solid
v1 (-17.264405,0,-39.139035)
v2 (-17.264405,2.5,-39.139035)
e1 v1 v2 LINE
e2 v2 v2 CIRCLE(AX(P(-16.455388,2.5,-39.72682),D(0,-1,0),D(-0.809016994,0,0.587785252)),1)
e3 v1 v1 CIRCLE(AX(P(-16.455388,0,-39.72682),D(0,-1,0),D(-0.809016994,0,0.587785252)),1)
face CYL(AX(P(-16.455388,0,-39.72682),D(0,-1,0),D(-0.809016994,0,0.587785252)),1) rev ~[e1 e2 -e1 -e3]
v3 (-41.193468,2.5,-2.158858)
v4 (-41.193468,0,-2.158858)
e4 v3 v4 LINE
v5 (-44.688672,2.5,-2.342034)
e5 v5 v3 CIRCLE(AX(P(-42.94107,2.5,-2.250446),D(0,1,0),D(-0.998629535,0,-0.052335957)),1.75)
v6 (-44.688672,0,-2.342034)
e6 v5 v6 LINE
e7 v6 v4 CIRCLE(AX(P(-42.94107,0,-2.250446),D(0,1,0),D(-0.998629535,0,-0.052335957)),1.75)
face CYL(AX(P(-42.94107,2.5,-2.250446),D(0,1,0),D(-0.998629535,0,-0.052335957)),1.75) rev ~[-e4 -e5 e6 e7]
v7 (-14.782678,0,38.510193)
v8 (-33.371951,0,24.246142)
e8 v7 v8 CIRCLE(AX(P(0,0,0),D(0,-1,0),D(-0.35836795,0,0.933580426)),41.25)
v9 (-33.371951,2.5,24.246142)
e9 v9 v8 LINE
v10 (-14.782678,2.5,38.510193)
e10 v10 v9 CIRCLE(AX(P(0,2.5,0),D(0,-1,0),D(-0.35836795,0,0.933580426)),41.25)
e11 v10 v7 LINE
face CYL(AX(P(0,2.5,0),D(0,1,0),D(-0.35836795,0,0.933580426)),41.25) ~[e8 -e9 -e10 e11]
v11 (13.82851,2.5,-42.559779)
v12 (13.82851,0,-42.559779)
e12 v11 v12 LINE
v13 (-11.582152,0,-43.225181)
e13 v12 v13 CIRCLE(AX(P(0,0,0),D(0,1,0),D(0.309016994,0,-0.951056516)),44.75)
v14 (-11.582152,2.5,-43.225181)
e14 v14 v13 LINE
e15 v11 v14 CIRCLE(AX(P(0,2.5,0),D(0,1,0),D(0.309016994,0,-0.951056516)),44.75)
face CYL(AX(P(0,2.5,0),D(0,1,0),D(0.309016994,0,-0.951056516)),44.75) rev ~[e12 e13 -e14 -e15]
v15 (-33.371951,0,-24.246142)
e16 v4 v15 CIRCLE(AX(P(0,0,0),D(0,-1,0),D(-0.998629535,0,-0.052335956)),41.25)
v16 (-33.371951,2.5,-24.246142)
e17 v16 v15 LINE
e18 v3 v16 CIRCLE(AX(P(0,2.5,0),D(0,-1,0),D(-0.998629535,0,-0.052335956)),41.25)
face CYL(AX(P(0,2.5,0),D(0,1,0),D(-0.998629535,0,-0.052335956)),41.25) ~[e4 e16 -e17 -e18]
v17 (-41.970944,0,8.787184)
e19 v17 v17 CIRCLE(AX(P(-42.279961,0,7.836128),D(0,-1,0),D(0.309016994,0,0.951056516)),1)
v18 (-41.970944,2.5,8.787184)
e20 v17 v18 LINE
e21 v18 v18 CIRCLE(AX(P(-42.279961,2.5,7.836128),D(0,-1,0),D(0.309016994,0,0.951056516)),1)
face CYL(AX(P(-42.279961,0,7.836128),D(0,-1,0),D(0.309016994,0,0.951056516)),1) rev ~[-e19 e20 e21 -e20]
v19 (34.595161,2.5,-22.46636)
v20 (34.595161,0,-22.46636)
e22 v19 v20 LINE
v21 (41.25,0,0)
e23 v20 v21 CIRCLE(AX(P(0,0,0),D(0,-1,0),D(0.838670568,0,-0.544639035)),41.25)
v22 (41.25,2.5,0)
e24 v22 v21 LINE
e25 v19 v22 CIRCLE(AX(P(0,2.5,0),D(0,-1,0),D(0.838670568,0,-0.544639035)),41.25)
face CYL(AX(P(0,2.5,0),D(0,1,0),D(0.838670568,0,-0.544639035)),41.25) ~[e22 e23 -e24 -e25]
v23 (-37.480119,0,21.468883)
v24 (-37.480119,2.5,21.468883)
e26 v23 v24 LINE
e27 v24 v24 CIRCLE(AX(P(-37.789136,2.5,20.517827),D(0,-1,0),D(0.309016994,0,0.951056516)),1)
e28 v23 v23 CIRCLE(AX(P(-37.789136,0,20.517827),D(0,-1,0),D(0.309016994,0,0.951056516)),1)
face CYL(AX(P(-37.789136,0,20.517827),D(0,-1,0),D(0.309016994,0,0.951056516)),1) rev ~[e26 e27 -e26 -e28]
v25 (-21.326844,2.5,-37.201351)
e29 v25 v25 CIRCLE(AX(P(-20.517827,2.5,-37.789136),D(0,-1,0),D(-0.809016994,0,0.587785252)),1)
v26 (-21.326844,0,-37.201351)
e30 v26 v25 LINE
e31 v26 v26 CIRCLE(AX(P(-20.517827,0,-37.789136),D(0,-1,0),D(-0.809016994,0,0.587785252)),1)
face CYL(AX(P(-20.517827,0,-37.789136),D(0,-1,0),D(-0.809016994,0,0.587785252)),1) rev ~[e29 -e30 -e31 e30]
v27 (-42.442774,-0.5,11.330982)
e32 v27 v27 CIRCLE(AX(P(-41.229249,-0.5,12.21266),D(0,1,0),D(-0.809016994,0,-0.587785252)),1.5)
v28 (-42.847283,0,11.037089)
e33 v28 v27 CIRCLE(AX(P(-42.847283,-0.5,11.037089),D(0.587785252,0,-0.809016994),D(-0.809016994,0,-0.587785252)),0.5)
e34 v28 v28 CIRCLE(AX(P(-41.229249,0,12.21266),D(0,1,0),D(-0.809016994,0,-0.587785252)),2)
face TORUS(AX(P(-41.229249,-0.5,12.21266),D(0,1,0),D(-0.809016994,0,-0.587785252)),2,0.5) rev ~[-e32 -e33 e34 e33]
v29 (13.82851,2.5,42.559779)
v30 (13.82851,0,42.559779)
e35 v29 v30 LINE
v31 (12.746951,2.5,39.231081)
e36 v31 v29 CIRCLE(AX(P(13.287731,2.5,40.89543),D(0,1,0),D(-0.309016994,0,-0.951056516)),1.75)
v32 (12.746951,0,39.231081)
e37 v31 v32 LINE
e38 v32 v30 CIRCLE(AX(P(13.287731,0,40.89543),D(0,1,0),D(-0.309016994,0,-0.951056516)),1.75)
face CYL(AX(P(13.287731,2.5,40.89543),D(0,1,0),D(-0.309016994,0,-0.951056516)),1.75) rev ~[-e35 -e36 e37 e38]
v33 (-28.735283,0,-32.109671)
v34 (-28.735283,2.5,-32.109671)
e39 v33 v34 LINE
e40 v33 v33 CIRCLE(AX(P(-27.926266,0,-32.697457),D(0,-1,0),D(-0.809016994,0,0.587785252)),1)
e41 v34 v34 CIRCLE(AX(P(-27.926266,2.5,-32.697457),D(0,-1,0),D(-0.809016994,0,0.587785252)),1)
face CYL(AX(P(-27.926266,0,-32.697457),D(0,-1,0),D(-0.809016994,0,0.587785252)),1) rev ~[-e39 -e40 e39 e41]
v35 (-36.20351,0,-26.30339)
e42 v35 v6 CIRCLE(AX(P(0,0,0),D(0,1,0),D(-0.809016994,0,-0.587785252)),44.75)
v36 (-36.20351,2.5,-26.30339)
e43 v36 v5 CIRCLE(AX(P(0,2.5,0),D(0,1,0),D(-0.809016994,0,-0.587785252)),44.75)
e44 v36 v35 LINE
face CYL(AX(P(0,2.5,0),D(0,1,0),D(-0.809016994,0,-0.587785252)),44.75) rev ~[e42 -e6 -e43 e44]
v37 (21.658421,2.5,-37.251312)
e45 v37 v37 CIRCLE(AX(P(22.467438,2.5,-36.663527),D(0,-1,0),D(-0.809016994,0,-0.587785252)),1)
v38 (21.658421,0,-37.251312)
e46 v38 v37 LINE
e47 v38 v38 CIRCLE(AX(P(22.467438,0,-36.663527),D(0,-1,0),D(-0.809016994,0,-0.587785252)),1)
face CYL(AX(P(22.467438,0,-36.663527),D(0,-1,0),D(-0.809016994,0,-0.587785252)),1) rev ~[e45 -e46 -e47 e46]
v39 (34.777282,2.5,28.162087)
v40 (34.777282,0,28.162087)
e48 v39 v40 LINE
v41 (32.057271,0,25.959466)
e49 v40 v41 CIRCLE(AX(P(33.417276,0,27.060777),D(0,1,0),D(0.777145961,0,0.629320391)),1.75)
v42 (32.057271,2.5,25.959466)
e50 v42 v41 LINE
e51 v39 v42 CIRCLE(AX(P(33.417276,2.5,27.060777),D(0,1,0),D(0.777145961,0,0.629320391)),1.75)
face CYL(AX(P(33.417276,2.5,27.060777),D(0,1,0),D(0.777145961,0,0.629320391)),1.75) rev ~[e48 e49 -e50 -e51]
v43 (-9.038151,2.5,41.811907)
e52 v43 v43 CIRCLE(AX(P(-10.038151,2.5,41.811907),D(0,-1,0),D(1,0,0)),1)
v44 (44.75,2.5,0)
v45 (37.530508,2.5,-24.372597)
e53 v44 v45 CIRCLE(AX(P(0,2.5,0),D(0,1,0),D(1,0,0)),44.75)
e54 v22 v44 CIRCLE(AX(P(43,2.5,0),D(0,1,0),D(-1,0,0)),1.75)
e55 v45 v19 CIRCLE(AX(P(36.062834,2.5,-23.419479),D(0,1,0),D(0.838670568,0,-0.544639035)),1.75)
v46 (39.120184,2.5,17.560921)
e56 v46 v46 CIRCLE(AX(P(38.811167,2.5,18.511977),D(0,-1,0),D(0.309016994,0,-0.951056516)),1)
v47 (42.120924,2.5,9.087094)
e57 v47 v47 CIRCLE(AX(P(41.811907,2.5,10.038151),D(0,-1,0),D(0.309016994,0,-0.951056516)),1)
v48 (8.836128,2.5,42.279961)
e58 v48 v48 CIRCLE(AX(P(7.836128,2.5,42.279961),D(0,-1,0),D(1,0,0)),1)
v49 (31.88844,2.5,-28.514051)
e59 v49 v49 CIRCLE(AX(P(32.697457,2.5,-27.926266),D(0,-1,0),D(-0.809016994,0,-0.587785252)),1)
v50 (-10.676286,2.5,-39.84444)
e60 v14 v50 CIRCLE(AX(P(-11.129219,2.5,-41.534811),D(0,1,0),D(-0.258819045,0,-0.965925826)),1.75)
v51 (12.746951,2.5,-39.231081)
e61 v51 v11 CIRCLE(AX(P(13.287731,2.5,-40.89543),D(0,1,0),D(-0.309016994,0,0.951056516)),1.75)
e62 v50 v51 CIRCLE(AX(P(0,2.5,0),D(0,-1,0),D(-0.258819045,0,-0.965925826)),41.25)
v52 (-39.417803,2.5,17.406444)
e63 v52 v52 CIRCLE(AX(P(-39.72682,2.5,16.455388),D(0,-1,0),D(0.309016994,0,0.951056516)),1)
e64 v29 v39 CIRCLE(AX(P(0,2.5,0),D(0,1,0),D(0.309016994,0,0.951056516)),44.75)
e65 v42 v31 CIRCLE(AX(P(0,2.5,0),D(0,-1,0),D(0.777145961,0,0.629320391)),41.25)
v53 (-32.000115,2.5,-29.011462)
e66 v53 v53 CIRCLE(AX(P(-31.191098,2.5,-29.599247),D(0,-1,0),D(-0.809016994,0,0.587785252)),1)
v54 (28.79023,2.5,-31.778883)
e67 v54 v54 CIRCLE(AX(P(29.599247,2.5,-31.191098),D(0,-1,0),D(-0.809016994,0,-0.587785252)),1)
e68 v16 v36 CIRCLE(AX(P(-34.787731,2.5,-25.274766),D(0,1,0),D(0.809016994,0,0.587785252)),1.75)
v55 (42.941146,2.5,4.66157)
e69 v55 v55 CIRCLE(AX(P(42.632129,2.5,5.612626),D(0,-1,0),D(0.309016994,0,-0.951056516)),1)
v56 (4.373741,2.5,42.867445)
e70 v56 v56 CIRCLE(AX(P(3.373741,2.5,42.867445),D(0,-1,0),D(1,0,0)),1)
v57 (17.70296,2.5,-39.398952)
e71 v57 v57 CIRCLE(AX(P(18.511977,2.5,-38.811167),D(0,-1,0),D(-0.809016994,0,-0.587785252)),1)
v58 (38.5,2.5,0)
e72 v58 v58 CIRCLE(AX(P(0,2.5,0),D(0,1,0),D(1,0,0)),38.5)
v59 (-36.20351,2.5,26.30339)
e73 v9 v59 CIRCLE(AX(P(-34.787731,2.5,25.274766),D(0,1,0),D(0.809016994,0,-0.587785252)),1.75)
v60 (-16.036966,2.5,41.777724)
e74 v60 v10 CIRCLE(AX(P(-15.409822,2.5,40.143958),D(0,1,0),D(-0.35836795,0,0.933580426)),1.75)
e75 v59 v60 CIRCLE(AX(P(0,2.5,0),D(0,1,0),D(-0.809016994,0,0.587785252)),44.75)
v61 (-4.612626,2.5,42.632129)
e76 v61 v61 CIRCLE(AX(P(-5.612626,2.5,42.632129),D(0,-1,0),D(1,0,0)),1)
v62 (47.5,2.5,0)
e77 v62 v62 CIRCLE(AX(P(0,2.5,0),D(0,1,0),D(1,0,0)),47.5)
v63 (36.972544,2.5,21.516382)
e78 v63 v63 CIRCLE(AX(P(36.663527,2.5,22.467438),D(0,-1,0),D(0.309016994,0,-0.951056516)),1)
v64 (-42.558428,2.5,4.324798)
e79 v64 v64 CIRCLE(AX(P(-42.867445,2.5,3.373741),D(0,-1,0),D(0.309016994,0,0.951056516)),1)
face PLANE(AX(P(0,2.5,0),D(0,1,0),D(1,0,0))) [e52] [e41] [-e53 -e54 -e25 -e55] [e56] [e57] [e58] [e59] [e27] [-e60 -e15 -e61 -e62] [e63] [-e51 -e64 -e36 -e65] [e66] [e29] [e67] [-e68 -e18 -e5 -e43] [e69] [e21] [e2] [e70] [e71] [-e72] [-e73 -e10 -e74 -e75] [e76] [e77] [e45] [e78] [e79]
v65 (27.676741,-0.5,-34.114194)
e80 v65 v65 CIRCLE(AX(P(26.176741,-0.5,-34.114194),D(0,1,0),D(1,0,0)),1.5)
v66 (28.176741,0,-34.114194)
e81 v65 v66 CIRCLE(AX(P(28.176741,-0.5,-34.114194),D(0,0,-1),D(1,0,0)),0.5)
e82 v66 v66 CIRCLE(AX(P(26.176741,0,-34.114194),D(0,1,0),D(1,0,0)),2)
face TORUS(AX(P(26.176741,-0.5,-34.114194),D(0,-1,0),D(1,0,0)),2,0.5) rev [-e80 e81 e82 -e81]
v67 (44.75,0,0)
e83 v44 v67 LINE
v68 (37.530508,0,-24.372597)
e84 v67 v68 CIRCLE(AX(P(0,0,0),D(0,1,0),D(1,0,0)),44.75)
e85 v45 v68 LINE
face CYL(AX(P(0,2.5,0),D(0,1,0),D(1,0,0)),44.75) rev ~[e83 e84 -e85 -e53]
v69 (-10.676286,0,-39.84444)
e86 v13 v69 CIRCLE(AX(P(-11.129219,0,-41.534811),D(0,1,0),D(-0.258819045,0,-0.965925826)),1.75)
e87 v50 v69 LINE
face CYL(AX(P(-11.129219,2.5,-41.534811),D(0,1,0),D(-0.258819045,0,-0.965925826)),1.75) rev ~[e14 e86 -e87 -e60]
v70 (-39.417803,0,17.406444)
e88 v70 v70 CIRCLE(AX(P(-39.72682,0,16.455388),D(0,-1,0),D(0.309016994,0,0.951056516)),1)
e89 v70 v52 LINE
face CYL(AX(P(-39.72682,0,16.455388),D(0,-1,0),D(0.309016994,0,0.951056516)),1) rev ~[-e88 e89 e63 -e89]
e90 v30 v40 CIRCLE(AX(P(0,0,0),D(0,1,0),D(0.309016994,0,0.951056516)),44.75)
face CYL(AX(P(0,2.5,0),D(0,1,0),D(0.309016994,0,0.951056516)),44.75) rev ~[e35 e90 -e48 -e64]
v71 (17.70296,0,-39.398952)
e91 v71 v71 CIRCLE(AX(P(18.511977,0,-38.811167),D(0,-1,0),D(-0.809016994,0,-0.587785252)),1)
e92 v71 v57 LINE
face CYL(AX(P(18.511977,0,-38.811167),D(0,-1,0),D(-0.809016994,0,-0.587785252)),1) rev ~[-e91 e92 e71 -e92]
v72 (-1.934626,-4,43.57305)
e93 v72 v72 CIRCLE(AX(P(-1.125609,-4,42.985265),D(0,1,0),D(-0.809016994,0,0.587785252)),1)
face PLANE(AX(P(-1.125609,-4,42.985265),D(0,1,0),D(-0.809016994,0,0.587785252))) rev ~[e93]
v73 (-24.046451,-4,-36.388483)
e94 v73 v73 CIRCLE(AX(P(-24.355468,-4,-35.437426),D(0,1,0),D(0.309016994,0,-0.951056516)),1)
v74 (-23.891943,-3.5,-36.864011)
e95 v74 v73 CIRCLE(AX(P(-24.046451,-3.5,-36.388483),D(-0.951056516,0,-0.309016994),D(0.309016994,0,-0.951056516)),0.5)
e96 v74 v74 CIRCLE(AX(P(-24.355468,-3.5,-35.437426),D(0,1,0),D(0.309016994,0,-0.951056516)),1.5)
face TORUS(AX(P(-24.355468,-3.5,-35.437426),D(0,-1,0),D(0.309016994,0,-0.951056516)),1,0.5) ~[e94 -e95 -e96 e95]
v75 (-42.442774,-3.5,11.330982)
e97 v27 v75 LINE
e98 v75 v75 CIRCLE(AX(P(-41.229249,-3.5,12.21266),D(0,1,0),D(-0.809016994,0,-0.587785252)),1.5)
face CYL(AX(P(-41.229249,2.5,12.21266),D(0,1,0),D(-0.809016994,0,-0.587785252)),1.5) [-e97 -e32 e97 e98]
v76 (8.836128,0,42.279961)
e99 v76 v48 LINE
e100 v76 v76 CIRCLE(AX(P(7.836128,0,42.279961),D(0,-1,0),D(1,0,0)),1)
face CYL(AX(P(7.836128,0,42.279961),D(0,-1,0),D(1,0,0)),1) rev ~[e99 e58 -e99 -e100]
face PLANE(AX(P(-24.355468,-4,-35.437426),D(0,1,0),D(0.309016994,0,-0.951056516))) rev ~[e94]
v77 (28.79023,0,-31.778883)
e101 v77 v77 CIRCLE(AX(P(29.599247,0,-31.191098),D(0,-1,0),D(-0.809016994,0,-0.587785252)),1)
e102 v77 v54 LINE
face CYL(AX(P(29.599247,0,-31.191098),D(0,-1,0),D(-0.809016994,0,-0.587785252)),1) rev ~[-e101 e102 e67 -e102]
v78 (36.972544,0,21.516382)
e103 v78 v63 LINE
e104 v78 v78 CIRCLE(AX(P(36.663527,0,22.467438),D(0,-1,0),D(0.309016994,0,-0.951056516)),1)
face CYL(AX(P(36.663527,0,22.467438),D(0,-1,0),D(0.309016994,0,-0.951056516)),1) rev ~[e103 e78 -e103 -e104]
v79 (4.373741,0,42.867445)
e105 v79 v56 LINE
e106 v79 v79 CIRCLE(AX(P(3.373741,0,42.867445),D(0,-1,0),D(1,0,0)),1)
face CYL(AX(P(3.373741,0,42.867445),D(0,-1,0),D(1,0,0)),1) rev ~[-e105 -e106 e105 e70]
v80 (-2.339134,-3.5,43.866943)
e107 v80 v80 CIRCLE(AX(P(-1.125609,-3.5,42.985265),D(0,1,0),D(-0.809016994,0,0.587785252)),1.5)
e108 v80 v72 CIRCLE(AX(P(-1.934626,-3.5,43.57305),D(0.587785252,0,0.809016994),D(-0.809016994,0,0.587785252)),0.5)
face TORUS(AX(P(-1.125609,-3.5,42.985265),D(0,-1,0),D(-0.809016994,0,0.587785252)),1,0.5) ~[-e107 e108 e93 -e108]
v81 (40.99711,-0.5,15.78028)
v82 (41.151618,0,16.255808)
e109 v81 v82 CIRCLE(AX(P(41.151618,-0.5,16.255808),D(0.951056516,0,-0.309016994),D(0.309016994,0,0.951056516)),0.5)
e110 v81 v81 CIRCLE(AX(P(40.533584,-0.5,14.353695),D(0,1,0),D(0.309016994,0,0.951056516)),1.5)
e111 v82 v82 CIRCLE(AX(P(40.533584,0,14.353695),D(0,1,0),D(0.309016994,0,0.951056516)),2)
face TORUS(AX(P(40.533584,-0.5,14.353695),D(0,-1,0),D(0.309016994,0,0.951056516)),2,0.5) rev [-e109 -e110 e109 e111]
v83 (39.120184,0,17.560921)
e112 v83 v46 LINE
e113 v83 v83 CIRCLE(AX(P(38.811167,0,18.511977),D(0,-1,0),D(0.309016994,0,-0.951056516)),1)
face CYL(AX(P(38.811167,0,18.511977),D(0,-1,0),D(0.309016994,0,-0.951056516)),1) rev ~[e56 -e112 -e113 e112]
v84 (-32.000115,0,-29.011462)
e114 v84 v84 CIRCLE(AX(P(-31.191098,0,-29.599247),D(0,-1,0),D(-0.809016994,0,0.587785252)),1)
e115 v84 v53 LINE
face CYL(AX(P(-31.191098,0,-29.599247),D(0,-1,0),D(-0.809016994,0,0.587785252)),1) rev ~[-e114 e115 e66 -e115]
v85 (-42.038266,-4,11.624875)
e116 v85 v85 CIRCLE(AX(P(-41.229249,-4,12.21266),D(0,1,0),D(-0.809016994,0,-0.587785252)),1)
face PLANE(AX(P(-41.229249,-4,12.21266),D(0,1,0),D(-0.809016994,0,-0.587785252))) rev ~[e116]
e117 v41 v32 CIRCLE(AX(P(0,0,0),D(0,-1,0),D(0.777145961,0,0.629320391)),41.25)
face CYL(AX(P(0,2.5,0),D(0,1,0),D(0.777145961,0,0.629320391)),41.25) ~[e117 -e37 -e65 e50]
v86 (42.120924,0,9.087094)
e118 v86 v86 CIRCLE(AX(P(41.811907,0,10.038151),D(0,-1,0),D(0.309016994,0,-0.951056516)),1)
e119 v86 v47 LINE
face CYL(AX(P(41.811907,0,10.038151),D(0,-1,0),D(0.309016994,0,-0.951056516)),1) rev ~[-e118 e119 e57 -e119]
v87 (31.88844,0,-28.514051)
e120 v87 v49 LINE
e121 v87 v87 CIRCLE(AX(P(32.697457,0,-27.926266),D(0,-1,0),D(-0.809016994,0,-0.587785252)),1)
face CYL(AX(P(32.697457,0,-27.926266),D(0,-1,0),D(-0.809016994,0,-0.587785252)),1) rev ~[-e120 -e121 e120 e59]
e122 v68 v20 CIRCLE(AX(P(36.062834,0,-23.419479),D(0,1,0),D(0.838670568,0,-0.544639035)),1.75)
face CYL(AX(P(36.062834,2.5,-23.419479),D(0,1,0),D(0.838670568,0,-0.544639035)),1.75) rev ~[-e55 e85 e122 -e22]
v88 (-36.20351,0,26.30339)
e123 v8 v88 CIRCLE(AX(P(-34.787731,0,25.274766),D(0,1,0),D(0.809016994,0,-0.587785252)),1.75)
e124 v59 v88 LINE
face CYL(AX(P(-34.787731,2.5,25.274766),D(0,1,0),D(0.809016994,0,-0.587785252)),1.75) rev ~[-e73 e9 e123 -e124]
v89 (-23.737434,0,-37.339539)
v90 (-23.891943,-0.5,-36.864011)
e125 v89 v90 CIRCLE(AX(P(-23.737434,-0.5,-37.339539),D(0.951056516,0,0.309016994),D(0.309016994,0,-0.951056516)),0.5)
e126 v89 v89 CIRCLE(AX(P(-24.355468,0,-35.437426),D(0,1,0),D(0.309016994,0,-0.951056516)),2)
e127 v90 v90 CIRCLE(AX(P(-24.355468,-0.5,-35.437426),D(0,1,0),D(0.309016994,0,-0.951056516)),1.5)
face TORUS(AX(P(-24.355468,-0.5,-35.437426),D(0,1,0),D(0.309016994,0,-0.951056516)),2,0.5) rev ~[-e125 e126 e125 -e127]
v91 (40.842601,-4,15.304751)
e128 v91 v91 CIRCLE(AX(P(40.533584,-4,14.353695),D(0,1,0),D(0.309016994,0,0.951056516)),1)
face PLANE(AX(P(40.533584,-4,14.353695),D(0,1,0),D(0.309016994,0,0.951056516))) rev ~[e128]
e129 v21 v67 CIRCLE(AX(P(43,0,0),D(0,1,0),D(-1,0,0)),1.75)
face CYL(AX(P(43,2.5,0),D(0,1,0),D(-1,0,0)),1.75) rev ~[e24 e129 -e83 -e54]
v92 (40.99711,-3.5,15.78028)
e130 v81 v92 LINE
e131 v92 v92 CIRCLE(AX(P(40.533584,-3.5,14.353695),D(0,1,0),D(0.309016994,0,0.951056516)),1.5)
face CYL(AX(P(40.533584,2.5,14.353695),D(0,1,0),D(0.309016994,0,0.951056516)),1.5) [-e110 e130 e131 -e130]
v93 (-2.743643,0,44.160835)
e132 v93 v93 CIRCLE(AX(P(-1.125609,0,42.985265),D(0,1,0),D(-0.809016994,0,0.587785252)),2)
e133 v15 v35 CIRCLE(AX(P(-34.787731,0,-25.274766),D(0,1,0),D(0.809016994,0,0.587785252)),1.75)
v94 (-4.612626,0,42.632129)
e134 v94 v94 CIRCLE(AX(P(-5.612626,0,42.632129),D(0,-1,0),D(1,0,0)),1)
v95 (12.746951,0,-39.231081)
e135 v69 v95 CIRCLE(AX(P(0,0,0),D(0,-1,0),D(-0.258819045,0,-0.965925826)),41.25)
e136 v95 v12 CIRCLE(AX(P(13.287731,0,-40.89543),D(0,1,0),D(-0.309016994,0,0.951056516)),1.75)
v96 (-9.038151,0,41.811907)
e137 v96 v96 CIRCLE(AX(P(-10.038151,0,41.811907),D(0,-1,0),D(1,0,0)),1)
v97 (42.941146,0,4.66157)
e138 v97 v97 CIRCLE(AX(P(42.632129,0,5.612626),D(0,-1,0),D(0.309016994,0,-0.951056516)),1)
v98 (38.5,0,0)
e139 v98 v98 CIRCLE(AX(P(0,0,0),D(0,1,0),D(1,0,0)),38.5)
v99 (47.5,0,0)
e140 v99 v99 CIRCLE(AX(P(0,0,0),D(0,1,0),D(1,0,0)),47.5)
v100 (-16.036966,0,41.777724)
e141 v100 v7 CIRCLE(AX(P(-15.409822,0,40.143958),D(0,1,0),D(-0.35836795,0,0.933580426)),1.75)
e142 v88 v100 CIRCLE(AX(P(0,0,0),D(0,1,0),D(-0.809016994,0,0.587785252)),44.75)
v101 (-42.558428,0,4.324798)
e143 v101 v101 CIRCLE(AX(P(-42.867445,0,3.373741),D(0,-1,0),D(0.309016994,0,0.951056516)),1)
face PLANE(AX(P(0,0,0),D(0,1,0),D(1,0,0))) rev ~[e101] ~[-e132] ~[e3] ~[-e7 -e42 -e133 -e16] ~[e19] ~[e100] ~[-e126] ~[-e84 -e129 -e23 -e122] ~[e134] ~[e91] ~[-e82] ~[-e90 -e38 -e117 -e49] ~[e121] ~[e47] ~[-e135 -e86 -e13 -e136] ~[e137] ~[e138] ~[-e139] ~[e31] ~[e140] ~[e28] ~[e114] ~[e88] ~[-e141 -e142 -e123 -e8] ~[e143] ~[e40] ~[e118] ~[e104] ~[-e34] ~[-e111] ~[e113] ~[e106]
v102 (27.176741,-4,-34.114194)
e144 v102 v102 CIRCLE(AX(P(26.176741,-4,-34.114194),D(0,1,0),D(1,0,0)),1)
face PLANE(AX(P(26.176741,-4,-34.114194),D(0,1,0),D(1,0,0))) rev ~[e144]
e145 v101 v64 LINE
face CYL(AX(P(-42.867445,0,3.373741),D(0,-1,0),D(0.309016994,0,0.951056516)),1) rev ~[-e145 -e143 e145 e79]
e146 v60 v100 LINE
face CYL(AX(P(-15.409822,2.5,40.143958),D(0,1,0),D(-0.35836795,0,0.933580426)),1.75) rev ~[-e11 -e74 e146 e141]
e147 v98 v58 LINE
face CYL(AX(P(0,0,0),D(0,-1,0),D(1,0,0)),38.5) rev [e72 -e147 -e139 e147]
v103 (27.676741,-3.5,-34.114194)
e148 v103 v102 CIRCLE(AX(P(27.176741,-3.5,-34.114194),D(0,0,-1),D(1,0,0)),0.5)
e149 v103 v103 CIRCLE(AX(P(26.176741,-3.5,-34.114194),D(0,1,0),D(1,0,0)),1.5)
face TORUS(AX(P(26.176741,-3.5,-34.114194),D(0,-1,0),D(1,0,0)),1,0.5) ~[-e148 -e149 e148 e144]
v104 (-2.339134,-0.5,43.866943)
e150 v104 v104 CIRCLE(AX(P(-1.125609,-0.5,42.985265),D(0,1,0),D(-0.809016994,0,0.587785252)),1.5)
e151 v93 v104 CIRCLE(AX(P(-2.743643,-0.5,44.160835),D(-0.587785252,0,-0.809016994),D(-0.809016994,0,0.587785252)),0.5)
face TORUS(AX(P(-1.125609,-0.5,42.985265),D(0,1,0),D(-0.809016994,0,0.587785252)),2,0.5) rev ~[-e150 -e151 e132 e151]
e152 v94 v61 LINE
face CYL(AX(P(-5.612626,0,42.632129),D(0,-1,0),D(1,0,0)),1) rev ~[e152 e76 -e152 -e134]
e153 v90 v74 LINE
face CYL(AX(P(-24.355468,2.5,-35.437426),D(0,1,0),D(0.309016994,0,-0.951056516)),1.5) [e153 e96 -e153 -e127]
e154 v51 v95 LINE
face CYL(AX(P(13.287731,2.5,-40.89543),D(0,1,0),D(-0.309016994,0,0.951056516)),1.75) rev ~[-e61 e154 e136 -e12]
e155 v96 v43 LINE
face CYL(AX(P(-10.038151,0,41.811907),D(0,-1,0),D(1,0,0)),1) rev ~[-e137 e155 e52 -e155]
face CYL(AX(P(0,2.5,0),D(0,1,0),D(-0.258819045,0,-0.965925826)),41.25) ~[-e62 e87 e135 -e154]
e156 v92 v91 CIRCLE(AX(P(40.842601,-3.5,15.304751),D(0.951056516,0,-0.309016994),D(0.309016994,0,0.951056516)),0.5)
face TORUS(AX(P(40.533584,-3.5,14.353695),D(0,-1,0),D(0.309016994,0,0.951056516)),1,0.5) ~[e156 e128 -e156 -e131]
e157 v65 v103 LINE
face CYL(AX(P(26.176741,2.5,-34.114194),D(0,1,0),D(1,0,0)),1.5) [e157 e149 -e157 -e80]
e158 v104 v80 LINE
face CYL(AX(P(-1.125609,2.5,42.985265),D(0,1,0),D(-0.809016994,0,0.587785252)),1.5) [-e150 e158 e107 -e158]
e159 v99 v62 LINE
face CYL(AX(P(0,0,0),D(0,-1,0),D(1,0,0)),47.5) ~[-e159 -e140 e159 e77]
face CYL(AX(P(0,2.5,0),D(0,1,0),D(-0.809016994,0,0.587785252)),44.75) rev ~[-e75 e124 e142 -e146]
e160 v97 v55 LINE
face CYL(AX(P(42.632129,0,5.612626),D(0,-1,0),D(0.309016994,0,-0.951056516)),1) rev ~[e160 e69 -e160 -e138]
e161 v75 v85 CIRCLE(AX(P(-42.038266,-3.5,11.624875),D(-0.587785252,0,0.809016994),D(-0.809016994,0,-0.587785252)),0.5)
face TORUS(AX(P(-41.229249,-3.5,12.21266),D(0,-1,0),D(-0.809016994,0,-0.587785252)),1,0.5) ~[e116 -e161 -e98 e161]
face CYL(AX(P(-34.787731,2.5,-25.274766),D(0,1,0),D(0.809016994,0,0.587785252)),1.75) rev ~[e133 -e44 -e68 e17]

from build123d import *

# Parameters (mm, degrees)
SKETCH1_R                = 47.5
SKETCH1_R_2              = 38.5
BOSS_EXTRUDE1_DEPTH      = 2.5
SKETCH2_R                = 1.5
CUT_EXTRUDE1_DEPTH       = 2.5
SKETCH3_R                = 1.5
BOSS_EXTRUDE2_DEPTH      = 6.5
FILLET1_R                = 0.5
CIRPATTERN1_COUNT        = 5
FILLET1_OF_CIRPATTERN1_R = 0.5
SKETCH4_R                = 1
CUT_EXTRUDE2_DEPTH       = 2.5
CIRPATTERN2_COUNT        = 5


with BuildPart() as part:
    # Sketch1 → Boss-Extrude1 (new body)
    with BuildSketch(Plane(origin=(0, 0, 0), x_dir=(1, 0, 0), z_dir=(0, 1, 0))):
        Circle(SKETCH1_R)
        Circle(SKETCH1_R_2, mode=Mode.SUBTRACT)
    extrude(amount=BOSS_EXTRUDE1_DEPTH)

    # Sketch2 → Cut-Extrude1 (cut)
    with BuildSketch(Plane(origin=(0, 2.5, 0), x_dir=(1, 0, 0), z_dir=(0, 1, 0))):
        with Locations((26.176741447, 34.114193633)):
            Circle(SKETCH2_R)
        with BuildLine():
            ThreePointArc((44.75, 0), (42.907183135, 12.709686676), (37.530507916, 24.372596817))
            ThreePointArc((37.530507916, 24.372596817), (35.10971611, 24.887152), (34.595160928, 22.466360194))
            ThreePointArc((34.595160928, 22.466360194), (39.551314063, 11.715632969), (41.25, 0))
            ThreePointArc((41.25, 0), (43, -1.75), (44.75, 0))
        make_face()
    cut_extrude1 = extrude(amount=-CUT_EXTRUDE1_DEPTH, mode=Mode.SUBTRACT)

    # Sketch3 → Boss-Extrude2 (add)
    with BuildSketch(Plane(origin=(0, 2.5, 0), x_dir=(1, 0, 0), z_dir=(0, 1, 0))):
        with Locations((26.176741447, 34.114193633)):
            Circle(SKETCH3_R)
    boss_extrude2 = extrude(amount=-BOSS_EXTRUDE2_DEPTH)

    # Fillet1
    fillet1_edges = [part.edges().sort_by_distance(p)[0] for p in [
        (24.676741447, 0, -34.114193633),
        (24.676741447, -4, -34.114193633),
    ]]
    fillet(fillet1_edges, radius=FILLET1_R)

    # CirPattern1: Cut-Extrude1, Boss-Extrude2 ×5 about axis
    cirpattern1_axis = Axis((0, 0, 0), (0, 1, 0))
    for i in range(1, CIRPATTERN1_COUNT):
        add(cut_extrude1.rotate(cirpattern1_axis, i * 360 / CIRPATTERN1_COUNT), mode=Mode.SUBTRACT)
        add(boss_extrude2.rotate(cirpattern1_axis, i * 360 / CIRPATTERN1_COUNT))

    # Fillet1 of CirPattern1
    fillet1_of_cirpattern1_edges = [part.edges().sort_by_distance(p)[0] for p in [
        (-24.818993679, 0, -34.010841336),
        (-24.818993679, -4, -34.010841336),
        (-40.015723108, 0, 13.094337701),
        (-40.015723108, -4, 13.094337701),
        (0.087916714, 0, 42.103587096),
        (0.087916714, -4, 42.103587096),
        (40.070058625, 0, 12.927110173),
        (40.070058625, -4, 12.927110173),
    ]]
    fillet(fillet1_of_cirpattern1_edges, radius=FILLET1_OF_CIRPATTERN1_R)

    # Sketch4 → Cut-Extrude2 (cut)
    with BuildSketch(Plane.XZ):
        with Locations((-5.612626265, 42.632129039)):
            Circle(SKETCH4_R)
        with Locations((3.373741116, 42.867445351)):
            Circle(SKETCH4_R)
        with Locations((-10.038150646, 41.811906577)):
            Circle(SKETCH4_R)
        with Locations((7.836127596, 42.279961025)):
            Circle(SKETCH4_R)
    cut_extrude2 = extrude(amount=-CUT_EXTRUDE2_DEPTH, mode=Mode.SUBTRACT)

    # CirPattern2: Cut-Extrude2 ×5 about axis
    cirpattern2_axis = Axis((0, 0, 0), (0, 1, 0))
    for i in range(1, CIRPATTERN2_COUNT):
        add(cut_extrude2.rotate(cirpattern2_axis, i * 360 / CIRPATTERN2_COUNT), mode=Mode.SUBTRACT)


solid = part.part
